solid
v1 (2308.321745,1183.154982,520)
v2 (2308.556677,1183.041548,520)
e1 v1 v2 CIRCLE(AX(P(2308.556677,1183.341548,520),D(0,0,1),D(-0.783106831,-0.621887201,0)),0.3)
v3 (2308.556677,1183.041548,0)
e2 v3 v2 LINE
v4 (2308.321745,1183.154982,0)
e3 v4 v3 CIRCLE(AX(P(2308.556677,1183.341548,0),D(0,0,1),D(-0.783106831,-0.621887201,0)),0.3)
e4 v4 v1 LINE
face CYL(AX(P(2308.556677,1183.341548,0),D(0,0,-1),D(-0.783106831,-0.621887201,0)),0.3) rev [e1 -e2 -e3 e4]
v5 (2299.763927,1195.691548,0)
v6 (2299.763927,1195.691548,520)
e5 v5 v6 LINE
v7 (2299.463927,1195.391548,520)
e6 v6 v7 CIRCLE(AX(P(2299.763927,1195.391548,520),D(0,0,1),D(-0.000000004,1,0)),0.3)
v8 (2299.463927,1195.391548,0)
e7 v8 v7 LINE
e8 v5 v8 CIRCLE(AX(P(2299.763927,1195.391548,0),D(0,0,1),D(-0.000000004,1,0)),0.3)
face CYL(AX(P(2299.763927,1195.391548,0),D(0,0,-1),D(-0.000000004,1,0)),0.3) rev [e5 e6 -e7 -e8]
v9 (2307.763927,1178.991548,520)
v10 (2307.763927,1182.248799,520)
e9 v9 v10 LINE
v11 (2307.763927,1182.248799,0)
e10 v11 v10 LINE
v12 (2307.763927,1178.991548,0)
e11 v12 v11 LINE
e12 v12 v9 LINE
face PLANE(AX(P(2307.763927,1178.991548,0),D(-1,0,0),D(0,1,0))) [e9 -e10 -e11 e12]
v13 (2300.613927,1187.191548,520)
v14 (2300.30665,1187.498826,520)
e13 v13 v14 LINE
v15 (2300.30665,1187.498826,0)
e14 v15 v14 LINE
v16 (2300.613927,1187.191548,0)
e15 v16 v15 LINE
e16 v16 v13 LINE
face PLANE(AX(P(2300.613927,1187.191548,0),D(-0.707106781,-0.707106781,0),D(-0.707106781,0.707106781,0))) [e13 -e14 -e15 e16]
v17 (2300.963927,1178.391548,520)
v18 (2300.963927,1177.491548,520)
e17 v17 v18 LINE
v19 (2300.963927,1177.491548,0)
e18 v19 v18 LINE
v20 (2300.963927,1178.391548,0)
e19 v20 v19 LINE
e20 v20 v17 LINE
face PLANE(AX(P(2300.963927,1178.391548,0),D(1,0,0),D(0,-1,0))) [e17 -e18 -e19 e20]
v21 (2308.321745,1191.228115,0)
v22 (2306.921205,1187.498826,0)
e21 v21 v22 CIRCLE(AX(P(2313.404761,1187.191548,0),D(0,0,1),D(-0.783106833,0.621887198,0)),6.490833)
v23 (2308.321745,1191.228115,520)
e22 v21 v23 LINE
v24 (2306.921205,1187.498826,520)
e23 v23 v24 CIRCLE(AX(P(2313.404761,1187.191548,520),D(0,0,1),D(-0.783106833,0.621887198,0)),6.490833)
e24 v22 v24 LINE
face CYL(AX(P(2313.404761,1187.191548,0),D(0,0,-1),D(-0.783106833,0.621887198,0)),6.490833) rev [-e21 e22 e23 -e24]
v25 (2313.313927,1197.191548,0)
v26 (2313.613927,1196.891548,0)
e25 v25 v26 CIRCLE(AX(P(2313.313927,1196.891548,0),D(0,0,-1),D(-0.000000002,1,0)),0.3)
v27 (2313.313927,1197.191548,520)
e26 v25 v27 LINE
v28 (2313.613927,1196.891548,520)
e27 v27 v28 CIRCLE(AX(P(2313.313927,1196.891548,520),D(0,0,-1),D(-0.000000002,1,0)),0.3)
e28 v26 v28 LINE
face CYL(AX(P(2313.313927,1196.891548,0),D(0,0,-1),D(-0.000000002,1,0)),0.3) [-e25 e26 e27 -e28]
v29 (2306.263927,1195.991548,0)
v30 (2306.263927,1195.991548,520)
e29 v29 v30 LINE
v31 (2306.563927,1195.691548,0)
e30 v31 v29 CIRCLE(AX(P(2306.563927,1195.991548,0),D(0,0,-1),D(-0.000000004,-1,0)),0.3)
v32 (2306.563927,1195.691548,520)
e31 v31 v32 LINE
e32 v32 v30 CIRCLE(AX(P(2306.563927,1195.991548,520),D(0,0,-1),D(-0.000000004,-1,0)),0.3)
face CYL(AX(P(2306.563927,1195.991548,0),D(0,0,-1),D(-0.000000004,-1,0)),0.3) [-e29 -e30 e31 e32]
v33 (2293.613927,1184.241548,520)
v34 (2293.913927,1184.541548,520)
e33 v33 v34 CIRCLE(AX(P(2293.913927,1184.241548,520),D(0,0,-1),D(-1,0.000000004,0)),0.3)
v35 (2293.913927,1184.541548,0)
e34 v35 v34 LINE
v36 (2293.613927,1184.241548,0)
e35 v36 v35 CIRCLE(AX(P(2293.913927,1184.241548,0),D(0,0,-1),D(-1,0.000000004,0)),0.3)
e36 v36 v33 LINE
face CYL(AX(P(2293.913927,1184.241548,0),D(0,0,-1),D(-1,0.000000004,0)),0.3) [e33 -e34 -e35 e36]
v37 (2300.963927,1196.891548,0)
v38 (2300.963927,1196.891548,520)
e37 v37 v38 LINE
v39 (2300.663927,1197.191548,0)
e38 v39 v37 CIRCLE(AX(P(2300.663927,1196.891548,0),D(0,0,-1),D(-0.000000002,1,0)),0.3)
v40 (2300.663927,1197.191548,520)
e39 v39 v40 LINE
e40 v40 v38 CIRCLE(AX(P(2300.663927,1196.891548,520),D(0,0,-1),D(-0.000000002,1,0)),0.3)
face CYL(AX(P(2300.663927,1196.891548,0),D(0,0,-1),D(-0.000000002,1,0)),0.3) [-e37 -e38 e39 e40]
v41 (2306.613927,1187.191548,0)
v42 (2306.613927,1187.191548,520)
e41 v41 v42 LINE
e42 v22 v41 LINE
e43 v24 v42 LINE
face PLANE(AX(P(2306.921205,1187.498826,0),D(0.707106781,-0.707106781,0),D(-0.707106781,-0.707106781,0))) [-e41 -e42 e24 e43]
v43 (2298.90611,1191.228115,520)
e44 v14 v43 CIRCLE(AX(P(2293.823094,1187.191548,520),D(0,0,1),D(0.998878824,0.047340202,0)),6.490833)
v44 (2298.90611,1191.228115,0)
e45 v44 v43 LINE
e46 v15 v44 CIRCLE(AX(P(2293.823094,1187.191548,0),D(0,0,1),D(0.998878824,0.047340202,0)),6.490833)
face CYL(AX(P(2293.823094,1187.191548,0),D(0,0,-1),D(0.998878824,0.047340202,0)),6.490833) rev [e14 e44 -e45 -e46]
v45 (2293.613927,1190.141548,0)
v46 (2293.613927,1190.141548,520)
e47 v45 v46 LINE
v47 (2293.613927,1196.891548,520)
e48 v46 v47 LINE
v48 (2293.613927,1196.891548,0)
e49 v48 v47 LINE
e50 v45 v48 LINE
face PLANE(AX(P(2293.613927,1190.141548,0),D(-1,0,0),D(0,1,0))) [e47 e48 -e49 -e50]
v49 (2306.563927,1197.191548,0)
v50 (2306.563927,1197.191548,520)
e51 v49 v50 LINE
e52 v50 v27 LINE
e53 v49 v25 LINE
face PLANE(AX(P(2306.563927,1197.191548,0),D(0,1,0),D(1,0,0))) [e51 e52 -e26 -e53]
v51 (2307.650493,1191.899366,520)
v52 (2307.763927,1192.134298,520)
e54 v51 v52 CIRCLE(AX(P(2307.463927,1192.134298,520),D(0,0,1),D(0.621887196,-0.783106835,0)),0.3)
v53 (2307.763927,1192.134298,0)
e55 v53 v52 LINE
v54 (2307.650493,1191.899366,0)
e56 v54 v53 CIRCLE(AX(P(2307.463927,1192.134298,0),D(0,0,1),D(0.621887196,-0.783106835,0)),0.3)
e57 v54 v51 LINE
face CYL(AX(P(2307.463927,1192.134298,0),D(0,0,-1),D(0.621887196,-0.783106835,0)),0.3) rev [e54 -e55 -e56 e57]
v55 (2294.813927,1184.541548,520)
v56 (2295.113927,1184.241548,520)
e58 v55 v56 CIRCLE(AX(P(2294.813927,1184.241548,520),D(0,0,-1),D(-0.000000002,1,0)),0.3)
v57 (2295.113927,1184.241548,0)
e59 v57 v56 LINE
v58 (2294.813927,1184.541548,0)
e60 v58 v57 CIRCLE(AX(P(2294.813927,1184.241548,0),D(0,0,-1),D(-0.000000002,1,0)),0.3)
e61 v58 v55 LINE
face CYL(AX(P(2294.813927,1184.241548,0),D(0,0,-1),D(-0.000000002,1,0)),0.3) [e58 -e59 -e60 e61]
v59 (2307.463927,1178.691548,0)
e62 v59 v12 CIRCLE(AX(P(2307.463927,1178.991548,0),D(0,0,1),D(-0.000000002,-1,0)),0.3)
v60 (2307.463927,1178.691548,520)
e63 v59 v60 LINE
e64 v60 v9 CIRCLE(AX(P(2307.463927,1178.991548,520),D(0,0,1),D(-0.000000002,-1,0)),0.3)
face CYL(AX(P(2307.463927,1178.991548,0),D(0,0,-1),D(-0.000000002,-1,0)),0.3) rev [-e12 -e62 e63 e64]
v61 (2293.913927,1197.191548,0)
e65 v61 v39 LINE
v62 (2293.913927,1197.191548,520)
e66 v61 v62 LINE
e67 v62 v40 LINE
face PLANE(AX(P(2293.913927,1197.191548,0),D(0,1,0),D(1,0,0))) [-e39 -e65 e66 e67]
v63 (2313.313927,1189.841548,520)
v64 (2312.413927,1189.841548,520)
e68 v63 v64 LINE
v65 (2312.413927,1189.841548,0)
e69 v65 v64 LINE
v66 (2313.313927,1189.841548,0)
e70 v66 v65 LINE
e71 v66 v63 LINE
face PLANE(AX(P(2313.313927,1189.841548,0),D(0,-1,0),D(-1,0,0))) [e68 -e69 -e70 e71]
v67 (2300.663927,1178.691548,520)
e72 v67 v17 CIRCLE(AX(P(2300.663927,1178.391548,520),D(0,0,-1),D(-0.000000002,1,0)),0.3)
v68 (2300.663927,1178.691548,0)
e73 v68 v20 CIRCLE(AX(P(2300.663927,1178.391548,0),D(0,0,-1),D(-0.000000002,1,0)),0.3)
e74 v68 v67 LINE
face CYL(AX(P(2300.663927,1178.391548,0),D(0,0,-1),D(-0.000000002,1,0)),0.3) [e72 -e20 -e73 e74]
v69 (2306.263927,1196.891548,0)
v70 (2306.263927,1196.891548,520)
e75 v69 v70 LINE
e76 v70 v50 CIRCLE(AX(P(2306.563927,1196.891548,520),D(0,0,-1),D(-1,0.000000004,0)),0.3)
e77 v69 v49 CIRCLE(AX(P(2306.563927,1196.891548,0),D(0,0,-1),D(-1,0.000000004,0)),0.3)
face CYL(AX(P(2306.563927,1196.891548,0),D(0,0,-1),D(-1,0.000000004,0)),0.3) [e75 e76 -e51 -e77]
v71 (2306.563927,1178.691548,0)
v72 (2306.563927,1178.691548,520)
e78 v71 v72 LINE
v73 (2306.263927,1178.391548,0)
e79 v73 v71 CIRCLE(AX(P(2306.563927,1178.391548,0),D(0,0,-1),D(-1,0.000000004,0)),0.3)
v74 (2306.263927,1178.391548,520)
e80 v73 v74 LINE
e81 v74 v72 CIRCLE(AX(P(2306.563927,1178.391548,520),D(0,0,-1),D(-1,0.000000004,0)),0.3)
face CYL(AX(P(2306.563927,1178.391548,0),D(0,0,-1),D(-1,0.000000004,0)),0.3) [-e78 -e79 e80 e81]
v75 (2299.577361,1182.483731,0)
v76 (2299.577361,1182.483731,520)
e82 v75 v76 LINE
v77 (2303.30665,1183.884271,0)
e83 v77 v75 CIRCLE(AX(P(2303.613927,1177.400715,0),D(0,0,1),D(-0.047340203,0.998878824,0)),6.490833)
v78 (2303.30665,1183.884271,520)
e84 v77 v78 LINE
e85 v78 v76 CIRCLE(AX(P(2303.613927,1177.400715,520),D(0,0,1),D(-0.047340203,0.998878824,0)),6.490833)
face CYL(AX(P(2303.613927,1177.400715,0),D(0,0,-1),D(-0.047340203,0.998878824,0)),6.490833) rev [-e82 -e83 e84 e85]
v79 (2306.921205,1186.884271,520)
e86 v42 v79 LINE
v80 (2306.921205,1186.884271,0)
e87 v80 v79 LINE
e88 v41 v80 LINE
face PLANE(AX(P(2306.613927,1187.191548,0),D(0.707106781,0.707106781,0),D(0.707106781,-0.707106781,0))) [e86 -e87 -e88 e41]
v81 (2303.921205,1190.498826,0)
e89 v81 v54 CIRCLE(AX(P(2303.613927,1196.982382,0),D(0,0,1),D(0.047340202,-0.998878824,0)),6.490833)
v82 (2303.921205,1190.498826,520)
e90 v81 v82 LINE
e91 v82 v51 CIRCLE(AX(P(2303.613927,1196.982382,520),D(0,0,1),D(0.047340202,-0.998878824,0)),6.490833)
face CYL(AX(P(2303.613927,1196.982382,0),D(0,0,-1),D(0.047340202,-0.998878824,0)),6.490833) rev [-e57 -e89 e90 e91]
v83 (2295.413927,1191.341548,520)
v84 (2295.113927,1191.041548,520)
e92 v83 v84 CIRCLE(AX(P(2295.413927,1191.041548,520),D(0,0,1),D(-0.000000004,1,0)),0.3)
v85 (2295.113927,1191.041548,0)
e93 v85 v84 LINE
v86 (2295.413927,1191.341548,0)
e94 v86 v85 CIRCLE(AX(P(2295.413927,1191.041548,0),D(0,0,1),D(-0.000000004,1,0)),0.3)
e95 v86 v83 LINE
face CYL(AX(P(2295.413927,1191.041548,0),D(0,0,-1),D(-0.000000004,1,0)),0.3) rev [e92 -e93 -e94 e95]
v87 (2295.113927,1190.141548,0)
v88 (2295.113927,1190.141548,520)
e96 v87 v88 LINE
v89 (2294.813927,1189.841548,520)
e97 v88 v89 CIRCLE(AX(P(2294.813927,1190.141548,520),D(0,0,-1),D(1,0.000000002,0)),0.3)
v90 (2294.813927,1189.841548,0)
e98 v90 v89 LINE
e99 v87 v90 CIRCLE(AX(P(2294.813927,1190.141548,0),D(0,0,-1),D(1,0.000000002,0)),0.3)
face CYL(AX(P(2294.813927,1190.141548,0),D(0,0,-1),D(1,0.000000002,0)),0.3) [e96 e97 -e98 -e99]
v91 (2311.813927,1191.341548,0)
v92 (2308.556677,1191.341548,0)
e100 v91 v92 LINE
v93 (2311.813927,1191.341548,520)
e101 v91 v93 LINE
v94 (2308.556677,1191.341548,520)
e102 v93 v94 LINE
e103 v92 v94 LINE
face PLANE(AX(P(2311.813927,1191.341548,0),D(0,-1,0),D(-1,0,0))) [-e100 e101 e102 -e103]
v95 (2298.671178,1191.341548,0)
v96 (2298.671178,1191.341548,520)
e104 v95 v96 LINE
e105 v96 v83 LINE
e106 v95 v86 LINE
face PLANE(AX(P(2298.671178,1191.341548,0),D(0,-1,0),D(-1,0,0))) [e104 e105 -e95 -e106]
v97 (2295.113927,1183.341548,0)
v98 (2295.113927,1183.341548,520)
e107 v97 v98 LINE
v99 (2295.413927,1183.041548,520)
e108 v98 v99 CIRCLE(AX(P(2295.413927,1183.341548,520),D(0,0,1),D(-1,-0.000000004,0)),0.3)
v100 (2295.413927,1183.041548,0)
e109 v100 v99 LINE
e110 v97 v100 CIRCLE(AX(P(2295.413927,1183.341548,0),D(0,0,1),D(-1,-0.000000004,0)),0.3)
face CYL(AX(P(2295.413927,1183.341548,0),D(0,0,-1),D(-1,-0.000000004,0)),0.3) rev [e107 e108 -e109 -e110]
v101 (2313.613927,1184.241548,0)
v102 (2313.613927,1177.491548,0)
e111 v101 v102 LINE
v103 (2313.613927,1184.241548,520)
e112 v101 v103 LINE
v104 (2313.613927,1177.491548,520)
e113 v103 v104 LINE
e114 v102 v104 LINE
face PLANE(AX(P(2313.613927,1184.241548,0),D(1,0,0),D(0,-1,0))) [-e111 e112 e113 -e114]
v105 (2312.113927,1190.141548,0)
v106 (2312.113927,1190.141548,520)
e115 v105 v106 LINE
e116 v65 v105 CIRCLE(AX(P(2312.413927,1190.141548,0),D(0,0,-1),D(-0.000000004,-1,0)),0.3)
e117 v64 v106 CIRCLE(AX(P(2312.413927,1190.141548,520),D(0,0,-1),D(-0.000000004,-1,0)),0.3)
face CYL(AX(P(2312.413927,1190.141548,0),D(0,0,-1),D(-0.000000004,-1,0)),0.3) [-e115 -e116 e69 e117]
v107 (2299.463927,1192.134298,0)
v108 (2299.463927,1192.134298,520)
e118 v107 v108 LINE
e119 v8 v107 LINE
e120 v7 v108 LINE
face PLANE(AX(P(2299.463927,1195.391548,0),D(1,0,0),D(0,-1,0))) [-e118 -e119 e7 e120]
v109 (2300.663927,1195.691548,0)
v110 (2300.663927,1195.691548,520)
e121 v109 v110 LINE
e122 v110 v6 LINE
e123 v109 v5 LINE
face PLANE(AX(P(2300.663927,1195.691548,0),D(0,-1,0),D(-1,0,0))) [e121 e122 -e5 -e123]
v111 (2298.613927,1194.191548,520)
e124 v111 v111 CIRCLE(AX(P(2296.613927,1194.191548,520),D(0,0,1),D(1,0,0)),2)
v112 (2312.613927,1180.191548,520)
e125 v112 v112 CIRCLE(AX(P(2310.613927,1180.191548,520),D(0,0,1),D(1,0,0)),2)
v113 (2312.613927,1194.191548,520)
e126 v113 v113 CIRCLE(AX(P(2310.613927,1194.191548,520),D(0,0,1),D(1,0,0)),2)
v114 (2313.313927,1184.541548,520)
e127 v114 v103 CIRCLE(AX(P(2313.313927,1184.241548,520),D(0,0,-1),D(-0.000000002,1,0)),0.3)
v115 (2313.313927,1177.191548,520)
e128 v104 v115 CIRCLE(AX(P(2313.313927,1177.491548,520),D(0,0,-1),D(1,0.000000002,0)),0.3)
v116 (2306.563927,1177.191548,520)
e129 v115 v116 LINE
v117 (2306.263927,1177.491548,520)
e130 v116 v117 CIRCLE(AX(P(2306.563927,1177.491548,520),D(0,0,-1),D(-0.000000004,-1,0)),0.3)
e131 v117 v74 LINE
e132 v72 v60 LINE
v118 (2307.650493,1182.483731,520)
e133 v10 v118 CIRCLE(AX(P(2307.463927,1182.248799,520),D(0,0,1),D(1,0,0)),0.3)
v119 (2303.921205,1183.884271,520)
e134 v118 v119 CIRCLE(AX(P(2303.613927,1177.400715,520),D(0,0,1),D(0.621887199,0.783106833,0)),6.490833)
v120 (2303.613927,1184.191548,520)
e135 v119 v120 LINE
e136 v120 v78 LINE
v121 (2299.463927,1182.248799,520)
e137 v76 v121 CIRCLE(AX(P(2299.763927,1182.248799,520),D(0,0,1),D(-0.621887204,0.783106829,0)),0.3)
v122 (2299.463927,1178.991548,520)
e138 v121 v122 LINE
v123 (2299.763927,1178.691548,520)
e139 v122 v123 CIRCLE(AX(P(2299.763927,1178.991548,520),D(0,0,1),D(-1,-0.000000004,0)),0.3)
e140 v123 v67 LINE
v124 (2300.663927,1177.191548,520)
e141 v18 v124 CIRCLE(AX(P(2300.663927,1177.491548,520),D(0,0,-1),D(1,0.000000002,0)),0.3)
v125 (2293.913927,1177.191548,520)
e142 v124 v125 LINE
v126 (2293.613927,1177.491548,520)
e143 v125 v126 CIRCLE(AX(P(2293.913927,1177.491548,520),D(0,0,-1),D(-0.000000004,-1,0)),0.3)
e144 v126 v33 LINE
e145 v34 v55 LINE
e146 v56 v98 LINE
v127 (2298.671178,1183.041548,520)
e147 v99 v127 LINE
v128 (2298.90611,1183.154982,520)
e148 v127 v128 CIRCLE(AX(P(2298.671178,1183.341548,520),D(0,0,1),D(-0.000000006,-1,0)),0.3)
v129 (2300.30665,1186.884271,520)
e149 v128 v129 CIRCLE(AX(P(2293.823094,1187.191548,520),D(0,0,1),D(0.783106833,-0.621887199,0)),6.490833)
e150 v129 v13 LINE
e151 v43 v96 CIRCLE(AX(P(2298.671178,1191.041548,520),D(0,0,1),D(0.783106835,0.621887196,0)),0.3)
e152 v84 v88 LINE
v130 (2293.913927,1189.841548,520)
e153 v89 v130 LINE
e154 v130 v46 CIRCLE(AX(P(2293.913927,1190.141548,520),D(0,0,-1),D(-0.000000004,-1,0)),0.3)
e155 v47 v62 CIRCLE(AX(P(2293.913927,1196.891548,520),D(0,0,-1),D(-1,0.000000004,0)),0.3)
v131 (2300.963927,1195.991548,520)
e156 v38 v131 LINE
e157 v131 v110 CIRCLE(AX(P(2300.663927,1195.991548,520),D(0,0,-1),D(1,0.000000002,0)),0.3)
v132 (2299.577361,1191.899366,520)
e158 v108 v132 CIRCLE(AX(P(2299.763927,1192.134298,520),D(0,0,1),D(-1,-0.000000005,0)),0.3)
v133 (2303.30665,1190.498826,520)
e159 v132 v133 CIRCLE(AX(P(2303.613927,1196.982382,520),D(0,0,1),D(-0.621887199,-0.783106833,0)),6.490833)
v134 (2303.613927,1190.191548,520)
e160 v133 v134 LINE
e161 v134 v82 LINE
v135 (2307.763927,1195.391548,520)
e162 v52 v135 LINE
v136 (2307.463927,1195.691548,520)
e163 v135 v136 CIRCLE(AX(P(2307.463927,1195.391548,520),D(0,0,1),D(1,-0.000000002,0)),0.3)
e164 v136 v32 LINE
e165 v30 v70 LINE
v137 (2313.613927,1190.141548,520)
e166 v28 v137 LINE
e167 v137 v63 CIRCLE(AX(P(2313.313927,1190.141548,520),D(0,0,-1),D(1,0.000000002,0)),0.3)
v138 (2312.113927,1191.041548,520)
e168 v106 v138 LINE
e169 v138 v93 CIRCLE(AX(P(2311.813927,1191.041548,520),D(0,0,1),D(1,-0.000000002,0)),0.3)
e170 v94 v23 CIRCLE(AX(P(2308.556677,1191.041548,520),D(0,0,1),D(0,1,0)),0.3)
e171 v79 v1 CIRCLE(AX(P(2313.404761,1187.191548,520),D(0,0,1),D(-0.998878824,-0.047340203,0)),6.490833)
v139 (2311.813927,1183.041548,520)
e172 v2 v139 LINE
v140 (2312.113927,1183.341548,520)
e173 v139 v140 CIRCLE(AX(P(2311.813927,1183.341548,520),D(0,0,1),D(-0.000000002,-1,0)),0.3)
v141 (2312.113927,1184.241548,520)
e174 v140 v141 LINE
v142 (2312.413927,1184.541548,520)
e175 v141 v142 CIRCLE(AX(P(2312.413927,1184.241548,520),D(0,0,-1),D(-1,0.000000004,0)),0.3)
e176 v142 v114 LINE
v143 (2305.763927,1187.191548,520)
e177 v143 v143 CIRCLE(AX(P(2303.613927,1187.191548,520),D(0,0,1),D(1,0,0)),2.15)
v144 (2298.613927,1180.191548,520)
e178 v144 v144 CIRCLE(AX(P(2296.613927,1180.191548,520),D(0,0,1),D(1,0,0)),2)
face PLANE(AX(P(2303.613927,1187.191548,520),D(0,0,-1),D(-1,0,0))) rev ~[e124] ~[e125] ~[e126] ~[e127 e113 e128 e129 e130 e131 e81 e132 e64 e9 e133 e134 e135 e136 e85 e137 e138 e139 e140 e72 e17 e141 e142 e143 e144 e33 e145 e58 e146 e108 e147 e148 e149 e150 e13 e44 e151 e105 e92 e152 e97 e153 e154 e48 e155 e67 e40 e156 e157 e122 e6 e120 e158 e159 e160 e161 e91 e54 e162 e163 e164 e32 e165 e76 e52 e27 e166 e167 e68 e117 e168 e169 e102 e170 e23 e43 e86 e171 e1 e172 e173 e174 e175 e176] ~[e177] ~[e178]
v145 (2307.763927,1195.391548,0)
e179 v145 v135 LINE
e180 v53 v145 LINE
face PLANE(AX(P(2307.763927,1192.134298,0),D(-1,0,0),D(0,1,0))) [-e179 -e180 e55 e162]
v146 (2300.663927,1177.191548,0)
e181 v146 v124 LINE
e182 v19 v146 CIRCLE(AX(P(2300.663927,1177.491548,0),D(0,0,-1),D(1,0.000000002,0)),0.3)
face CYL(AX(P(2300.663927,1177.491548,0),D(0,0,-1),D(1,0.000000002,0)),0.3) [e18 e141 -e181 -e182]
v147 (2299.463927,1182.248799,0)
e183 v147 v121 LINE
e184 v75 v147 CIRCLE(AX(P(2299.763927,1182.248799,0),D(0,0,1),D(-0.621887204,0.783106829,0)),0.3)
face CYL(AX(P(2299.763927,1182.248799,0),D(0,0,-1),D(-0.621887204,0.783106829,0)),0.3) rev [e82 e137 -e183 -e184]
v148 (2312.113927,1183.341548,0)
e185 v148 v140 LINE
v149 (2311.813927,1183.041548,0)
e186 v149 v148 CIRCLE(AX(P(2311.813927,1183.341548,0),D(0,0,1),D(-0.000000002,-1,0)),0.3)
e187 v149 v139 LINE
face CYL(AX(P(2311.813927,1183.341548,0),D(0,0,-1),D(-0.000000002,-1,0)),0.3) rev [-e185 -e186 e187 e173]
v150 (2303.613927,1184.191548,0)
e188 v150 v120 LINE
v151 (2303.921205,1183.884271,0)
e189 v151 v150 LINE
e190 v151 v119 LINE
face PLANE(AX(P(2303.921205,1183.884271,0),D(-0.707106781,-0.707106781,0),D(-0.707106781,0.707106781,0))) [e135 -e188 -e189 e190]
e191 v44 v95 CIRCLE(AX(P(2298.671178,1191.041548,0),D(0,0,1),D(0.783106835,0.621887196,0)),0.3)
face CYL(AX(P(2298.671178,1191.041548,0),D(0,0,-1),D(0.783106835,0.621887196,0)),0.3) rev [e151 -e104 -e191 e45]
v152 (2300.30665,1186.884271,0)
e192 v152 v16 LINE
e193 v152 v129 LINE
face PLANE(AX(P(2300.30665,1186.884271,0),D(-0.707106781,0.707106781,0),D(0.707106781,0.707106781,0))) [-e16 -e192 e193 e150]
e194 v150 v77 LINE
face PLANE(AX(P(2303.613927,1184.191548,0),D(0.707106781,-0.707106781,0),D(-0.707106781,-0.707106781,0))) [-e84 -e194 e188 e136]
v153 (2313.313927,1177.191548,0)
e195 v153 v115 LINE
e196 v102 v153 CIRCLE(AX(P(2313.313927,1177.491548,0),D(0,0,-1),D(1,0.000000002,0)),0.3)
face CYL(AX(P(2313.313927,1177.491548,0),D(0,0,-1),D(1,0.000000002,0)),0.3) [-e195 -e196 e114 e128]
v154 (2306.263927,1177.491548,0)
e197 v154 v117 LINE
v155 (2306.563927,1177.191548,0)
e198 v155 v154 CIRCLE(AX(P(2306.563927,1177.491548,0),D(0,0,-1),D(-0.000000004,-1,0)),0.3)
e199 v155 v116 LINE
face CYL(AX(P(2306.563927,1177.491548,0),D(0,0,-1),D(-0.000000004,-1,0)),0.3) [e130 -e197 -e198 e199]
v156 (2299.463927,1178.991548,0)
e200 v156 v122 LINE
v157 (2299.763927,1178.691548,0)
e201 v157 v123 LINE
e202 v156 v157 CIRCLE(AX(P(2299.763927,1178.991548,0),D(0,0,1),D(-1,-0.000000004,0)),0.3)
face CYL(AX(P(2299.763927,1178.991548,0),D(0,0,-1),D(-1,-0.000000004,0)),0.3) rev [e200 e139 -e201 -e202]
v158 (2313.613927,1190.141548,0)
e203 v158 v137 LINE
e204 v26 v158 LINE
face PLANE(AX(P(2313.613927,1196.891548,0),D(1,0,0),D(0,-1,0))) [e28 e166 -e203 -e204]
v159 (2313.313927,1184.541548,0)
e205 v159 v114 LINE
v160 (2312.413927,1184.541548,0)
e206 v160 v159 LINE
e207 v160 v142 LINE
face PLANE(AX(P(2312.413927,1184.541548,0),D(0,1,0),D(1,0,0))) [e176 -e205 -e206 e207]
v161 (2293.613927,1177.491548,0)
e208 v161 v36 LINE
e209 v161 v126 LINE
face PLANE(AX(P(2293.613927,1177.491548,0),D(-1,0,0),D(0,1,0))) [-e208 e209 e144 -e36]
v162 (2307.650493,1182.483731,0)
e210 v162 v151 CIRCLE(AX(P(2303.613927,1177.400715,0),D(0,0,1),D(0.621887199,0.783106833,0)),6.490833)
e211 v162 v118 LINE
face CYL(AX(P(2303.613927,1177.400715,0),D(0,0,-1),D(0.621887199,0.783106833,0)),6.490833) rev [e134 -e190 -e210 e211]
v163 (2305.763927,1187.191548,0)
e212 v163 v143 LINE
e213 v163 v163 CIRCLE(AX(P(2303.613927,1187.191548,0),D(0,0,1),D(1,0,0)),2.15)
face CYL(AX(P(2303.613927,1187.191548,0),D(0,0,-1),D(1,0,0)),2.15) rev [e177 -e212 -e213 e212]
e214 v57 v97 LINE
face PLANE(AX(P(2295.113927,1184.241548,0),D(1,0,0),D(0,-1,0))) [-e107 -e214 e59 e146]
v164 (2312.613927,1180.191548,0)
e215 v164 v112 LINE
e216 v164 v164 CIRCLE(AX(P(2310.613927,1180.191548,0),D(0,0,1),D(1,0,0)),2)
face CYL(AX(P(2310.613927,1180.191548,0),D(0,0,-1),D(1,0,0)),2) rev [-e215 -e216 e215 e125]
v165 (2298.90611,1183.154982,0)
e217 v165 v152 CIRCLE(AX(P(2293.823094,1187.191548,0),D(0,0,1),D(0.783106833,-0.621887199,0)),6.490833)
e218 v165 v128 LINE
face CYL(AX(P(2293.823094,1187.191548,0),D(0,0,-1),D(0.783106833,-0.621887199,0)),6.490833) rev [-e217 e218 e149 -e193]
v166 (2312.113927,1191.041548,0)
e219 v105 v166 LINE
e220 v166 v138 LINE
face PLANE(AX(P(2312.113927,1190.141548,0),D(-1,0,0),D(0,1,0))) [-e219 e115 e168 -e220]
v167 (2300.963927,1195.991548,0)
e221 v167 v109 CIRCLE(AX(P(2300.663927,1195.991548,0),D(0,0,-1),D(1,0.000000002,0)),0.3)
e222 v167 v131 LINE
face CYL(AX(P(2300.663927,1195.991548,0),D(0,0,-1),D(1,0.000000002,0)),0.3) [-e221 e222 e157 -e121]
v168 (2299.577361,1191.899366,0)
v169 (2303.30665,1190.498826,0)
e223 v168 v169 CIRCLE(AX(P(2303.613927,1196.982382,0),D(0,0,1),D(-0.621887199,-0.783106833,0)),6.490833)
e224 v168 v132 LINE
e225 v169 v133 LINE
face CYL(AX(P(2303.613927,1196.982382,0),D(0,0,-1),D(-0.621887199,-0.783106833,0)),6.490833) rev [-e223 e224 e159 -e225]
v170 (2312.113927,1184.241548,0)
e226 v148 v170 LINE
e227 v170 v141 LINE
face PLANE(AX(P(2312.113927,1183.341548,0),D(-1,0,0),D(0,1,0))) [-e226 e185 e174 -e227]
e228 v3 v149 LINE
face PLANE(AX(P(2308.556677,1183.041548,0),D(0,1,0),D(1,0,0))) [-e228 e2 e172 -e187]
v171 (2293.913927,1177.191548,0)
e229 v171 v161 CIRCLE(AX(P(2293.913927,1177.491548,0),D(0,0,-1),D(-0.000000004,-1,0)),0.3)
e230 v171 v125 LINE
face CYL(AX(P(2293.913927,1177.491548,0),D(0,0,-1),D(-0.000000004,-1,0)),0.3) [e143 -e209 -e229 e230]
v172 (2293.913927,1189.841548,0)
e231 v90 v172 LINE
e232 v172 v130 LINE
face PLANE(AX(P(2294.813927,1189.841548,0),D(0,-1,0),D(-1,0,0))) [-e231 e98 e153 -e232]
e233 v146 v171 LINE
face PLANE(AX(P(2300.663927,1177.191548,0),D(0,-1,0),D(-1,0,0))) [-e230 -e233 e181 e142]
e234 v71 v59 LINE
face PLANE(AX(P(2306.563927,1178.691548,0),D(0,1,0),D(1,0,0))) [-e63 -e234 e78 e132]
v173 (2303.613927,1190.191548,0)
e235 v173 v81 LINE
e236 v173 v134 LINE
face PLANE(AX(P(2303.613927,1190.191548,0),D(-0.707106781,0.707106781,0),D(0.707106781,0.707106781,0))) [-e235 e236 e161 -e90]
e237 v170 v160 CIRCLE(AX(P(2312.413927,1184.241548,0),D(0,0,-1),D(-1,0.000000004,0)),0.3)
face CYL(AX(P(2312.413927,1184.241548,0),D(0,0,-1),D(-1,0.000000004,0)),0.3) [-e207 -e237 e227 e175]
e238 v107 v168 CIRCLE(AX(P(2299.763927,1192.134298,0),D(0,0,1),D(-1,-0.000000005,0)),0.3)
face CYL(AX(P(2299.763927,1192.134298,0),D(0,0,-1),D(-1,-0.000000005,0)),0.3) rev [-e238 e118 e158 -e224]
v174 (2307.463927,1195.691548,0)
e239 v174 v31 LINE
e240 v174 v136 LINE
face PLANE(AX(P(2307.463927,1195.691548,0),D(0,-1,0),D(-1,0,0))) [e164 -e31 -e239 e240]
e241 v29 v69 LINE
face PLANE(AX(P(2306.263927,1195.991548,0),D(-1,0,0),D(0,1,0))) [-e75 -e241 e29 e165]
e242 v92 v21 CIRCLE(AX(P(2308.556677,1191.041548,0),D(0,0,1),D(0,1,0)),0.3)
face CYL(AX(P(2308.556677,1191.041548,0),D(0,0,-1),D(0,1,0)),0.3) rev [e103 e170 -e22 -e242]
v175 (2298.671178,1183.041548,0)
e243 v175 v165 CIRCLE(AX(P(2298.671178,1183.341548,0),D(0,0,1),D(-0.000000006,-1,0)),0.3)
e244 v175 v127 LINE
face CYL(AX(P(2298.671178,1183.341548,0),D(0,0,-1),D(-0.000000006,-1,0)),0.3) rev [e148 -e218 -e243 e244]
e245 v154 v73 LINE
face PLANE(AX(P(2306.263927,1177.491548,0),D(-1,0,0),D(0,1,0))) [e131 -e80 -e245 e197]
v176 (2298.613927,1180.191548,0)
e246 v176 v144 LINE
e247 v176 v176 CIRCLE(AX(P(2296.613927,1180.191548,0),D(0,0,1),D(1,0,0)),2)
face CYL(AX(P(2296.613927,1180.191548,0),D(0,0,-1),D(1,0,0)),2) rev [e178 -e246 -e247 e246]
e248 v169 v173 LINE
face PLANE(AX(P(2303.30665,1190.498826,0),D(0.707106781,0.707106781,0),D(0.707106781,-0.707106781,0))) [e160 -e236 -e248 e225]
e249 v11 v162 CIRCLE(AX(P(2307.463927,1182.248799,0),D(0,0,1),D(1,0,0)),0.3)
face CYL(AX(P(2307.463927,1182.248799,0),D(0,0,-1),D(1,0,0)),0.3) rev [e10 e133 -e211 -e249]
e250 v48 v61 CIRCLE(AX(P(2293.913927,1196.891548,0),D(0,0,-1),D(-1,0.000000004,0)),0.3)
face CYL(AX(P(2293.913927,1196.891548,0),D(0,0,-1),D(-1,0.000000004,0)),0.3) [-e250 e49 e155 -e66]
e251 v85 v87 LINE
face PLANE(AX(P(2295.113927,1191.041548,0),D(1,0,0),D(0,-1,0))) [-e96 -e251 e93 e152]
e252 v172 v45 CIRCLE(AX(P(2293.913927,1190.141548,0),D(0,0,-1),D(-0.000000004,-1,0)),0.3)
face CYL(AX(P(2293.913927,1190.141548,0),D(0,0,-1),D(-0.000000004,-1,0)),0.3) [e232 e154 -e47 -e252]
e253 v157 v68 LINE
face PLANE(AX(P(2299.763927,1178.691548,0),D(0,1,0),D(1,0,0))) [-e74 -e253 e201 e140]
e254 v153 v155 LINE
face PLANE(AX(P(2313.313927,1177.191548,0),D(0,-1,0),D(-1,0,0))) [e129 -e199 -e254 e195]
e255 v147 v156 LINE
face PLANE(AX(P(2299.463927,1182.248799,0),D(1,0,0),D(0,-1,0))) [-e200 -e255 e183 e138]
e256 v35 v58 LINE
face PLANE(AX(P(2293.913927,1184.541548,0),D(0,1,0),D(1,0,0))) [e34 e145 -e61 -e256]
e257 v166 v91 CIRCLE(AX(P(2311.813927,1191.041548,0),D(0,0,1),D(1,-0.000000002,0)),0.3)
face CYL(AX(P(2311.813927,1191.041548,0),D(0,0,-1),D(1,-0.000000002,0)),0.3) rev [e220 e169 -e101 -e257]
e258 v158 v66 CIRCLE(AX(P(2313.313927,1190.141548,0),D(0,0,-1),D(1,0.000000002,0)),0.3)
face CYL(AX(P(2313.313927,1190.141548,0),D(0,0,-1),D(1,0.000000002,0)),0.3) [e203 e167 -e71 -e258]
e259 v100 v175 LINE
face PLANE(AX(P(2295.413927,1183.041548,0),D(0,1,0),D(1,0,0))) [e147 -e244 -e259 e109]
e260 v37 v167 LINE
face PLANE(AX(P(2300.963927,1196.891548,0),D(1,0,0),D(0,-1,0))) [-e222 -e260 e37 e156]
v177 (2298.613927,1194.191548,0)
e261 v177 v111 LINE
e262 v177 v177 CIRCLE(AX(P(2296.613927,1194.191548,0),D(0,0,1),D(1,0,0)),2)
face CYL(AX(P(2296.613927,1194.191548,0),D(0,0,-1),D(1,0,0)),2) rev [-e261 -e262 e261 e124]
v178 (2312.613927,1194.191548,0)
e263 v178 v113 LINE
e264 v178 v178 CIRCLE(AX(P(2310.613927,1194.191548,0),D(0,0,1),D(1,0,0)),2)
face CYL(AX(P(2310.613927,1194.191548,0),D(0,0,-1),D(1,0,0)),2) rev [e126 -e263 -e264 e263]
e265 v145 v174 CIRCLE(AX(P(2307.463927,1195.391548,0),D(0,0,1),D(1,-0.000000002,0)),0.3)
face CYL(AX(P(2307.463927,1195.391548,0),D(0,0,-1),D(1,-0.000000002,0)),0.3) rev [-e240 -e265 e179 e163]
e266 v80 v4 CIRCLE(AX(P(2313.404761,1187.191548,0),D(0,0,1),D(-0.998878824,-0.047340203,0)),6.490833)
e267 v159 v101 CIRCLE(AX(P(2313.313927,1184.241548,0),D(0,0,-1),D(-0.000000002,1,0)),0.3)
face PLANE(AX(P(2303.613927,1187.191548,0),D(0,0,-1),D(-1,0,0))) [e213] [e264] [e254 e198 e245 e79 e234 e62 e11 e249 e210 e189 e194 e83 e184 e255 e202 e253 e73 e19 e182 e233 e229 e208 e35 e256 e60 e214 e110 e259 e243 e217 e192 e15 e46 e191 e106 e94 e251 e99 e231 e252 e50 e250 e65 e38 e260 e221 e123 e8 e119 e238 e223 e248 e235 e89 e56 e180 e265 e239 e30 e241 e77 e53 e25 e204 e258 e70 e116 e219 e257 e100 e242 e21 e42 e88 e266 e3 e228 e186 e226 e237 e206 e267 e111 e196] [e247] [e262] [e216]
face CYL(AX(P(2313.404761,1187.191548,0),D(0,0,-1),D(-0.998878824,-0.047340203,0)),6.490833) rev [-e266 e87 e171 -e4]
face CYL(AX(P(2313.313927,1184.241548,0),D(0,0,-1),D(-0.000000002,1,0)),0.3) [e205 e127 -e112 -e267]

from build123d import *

# Parameters (mm, degrees)
MODEL_R         = 2.15
MODEL_R_2       = 2
EXTRUDE_1_DEPTH = 520


with BuildPart() as part:
    # Model → 보스-돌출1 (new body)
    with BuildSketch(Plane.XY):
        with BuildLine():
            Line((2307.763927197, 1192.134297913), (2307.763927197, 1195.391548465))
            ThreePointArc((2307.763927197, 1195.391548465), (2307.676059232, 1195.603680499), (2307.463927197, 1195.691548465))
            Line((2307.463927197, 1195.691548465), (2306.563927197, 1195.691548465))
            ThreePointArc((2306.563927197, 1195.691548465), (2306.351795163, 1195.779416431), (2306.263927197, 1195.991548465))
            Line((2306.263927197, 1195.991548465), (2306.263927197, 1196.891548465))
            ThreePointArc((2306.263927197, 1196.891548465), (2306.351795163, 1197.103680499), (2306.563927197, 1197.191548465))
            Line((2306.563927197, 1197.191548465), (2313.313927197, 1197.191548465))
            ThreePointArc((2313.313927197, 1197.191548465), (2313.526059232, 1197.103680499), (2313.613927197, 1196.891548465))
            Line((2313.613927197, 1196.891548465), (2313.613927197, 1190.141548465))
            ThreePointArc((2313.613927197, 1190.141548465), (2313.526059232, 1189.929416431), (2313.313927197, 1189.841548465))
            Line((2313.313927197, 1189.841548465), (2312.413927197, 1189.841548465))
            ThreePointArc((2312.413927197, 1189.841548465), (2312.201795163, 1189.929416431), (2312.113927197, 1190.141548465))
            Line((2312.113927197, 1190.141548465), (2312.113927197, 1191.041548465))
            ThreePointArc((2312.113927197, 1191.041548465), (2312.026059232, 1191.253680499), (2311.813927197, 1191.341548465))
            Line((2311.813927197, 1191.341548465), (2308.556676645, 1191.341548465))
            ThreePointArc((2308.556676645, 1191.341548465), (2308.426234796, 1191.311705686), (2308.321744595, 1191.228114625))
            ThreePointArc((2308.321744595, 1191.228114625), (2307.328306374, 1189.47356999), (2306.921204563, 1187.498825831))
            Line((2306.921204563, 1187.498825831), (2306.613927197, 1187.191548465))
            Line((2306.613927197, 1187.191548465), (2306.921204563, 1186.884271099))
            ThreePointArc((2306.921204563, 1186.884271099), (2307.328306374, 1184.90952694), (2308.321744595, 1183.154982305))
            ThreePointArc((2308.321744595, 1183.154982305), (2308.426234796, 1183.071391244), (2308.556676645, 1183.041548465))
            Line((2308.556676645, 1183.041548465), (2311.813927197, 1183.041548465))
            ThreePointArc((2311.813927197, 1183.041548465), (2312.026059232, 1183.129416431), (2312.113927197, 1183.341548465))
            Line((2312.113927197, 1183.341548465), (2312.113927197, 1184.241548465))
            ThreePointArc((2312.113927197, 1184.241548465), (2312.201795163, 1184.453680499), (2312.413927197, 1184.541548465))
            Line((2312.413927197, 1184.541548465), (2313.313927197, 1184.541548465))
            ThreePointArc((2313.313927197, 1184.541548465), (2313.526059232, 1184.453680499), (2313.613927197, 1184.241548465))
            Line((2313.613927197, 1184.241548465), (2313.613927197, 1177.491548465))
            ThreePointArc((2313.613927197, 1177.491548465), (2313.526059232, 1177.279416431), (2313.313927197, 1177.191548465))
            Line((2313.313927197, 1177.191548465), (2306.563927197, 1177.191548465))
            ThreePointArc((2306.563927197, 1177.191548465), (2306.351795163, 1177.279416431), (2306.263927197, 1177.491548465))
            Line((2306.263927197, 1177.491548465), (2306.263927197, 1178.391548465))
            ThreePointArc((2306.263927197, 1178.391548465), (2306.351795163, 1178.603680499), (2306.563927197, 1178.691548465))
            Line((2306.563927197, 1178.691548465), (2307.463927197, 1178.691548465))
            ThreePointArc((2307.463927197, 1178.691548465), (2307.676059232, 1178.779416431), (2307.763927197, 1178.991548465))
            Line((2307.763927197, 1178.991548465), (2307.763927197, 1182.248799017))
            ThreePointArc((2307.763927197, 1182.248799017), (2307.734084418, 1182.379240866), (2307.650493357, 1182.483731067))
            ThreePointArc((2307.650493357, 1182.483731067), (2305.895948722, 1183.477169289), (2303.921204563, 1183.884271099))
            Line((2303.921204563, 1183.884271099), (2303.613927197, 1184.191548465))
            Line((2303.613927197, 1184.191548465), (2303.306649831, 1183.884271099))
            ThreePointArc((2303.306649831, 1183.884271099), (2301.331905673, 1183.477169289), (2299.577361038, 1182.483731067))
            ThreePointArc((2299.577361038, 1182.483731067), (2299.493769977, 1182.379240866), (2299.463927197, 1182.248799017))
            Line((2299.463927197, 1182.248799017), (2299.463927197, 1178.991548465))
            ThreePointArc((2299.463927197, 1178.991548465), (2299.551795163, 1178.779416431), (2299.763927197, 1178.691548465))
            Line((2299.763927197, 1178.691548465), (2300.663927197, 1178.691548465))
            ThreePointArc((2300.663927197, 1178.691548465), (2300.876059232, 1178.603680499), (2300.963927197, 1178.391548465))
            Line((2300.963927197, 1178.391548465), (2300.963927197, 1177.491548465))
            ThreePointArc((2300.963927197, 1177.491548465), (2300.876059232, 1177.279416431), (2300.663927197, 1177.191548465))
            Line((2300.663927197, 1177.191548465), (2293.913927197, 1177.191548465))
            ThreePointArc((2293.913927197, 1177.191548465), (2293.701795163, 1177.279416431), (2293.613927197, 1177.491548465))
            Line((2293.613927197, 1177.491548465), (2293.613927197, 1184.241548465))
            ThreePointArc((2293.613927197, 1184.241548465), (2293.701795163, 1184.453680499), (2293.913927197, 1184.541548465))
            Line((2293.913927197, 1184.541548465), (2294.813927197, 1184.541548465))
            ThreePointArc((2294.813927197, 1184.541548465), (2295.026059232, 1184.453680499), (2295.113927197, 1184.241548465))
            Line((2295.113927197, 1184.241548465), (2295.113927197, 1183.341548465))
            ThreePointArc((2295.113927197, 1183.341548465), (2295.201795163, 1183.129416431), (2295.413927197, 1183.041548465))
            Line((2295.413927197, 1183.041548465), (2298.671177749, 1183.041548465))
            ThreePointArc((2298.671177749, 1183.041548465), (2298.801619599, 1183.071391244), (2298.906109799, 1183.154982305))
            ThreePointArc((2298.906109799, 1183.154982305), (2299.899548021, 1184.90952694), (2300.306649831, 1186.884271099))
            Line((2300.306649831, 1186.884271099), (2300.613927197, 1187.191548465))
            Line((2300.613927197, 1187.191548465), (2300.306649831, 1187.498825831))
            ThreePointArc((2300.306649831, 1187.498825831), (2299.899548021, 1189.47356999), (2298.906109799, 1191.228114625))
            ThreePointArc((2298.906109799, 1191.228114625), (2298.801619599, 1191.311705686), (2298.671177749, 1191.341548465))
            Line((2298.671177749, 1191.341548465), (2295.413927197, 1191.341548465))
            ThreePointArc((2295.413927197, 1191.341548465), (2295.201795163, 1191.253680499), (2295.113927197, 1191.041548465))
            Line((2295.113927197, 1191.041548465), (2295.113927197, 1190.141548465))
            ThreePointArc((2295.113927197, 1190.141548465), (2295.026059232, 1189.929416431), (2294.813927197, 1189.841548465))
            Line((2294.813927197, 1189.841548465), (2293.913927197, 1189.841548465))
            ThreePointArc((2293.913927197, 1189.841548465), (2293.701795163, 1189.929416431), (2293.613927197, 1190.141548465))
            Line((2293.613927197, 1190.141548465), (2293.613927197, 1196.891548465))
            ThreePointArc((2293.613927197, 1196.891548465), (2293.701795163, 1197.103680499), (2293.913927197, 1197.191548465))
            Line((2293.913927197, 1197.191548465), (2300.663927197, 1197.191548465))
            ThreePointArc((2300.663927197, 1197.191548465), (2300.876059232, 1197.103680499), (2300.963927197, 1196.891548465))
            Line((2300.963927197, 1196.891548465), (2300.963927197, 1195.991548465))
            ThreePointArc((2300.963927197, 1195.991548465), (2300.876059232, 1195.779416431), (2300.663927197, 1195.691548465))
            Line((2300.663927197, 1195.691548465), (2299.763927197, 1195.691548465))
            ThreePointArc((2299.763927197, 1195.691548465), (2299.551795163, 1195.603680499), (2299.463927197, 1195.391548465))
            Line((2299.463927197, 1195.391548465), (2299.463927197, 1192.134297913))
            ThreePointArc((2299.463927197, 1192.134297913), (2299.493769977, 1192.003856063), (2299.577361038, 1191.899365863))
            ThreePointArc((2299.577361038, 1191.899365863), (2301.331905673, 1190.905927641), (2303.306649831, 1190.498825831))
            Line((2303.306649831, 1190.498825831), (2303.613927197, 1190.191548465))
            Line((2303.613927197, 1190.191548465), (2303.921204563, 1190.498825831))
            ThreePointArc((2303.921204563, 1190.498825831), (2305.895948722, 1190.905927641), (2307.650493357, 1191.899365863))
            ThreePointArc((2307.650493357, 1191.899365863), (2307.734084418, 1192.003856063), (2307.763927197, 1192.134297913))
        make_face()
        with Locations((2303.613927197, 1187.191548465)):
            Circle(MODEL_R, mode=Mode.SUBTRACT)
        with Locations((2296.613927197, 1194.191548465)):
            Circle(MODEL_R_2, mode=Mode.SUBTRACT)
        with Locations((2296.613927197, 1180.191548465)):
            Circle(MODEL_R_2, mode=Mode.SUBTRACT)
        with Locations((2310.613927197, 1194.191548465)):
            Circle(MODEL_R_2, mode=Mode.SUBTRACT)
        with Locations((2310.613927197, 1180.191548465)):
            Circle(MODEL_R_2, mode=Mode.SUBTRACT)
    extrude(amount=EXTRUDE_1_DEPTH)


solid = part.part
